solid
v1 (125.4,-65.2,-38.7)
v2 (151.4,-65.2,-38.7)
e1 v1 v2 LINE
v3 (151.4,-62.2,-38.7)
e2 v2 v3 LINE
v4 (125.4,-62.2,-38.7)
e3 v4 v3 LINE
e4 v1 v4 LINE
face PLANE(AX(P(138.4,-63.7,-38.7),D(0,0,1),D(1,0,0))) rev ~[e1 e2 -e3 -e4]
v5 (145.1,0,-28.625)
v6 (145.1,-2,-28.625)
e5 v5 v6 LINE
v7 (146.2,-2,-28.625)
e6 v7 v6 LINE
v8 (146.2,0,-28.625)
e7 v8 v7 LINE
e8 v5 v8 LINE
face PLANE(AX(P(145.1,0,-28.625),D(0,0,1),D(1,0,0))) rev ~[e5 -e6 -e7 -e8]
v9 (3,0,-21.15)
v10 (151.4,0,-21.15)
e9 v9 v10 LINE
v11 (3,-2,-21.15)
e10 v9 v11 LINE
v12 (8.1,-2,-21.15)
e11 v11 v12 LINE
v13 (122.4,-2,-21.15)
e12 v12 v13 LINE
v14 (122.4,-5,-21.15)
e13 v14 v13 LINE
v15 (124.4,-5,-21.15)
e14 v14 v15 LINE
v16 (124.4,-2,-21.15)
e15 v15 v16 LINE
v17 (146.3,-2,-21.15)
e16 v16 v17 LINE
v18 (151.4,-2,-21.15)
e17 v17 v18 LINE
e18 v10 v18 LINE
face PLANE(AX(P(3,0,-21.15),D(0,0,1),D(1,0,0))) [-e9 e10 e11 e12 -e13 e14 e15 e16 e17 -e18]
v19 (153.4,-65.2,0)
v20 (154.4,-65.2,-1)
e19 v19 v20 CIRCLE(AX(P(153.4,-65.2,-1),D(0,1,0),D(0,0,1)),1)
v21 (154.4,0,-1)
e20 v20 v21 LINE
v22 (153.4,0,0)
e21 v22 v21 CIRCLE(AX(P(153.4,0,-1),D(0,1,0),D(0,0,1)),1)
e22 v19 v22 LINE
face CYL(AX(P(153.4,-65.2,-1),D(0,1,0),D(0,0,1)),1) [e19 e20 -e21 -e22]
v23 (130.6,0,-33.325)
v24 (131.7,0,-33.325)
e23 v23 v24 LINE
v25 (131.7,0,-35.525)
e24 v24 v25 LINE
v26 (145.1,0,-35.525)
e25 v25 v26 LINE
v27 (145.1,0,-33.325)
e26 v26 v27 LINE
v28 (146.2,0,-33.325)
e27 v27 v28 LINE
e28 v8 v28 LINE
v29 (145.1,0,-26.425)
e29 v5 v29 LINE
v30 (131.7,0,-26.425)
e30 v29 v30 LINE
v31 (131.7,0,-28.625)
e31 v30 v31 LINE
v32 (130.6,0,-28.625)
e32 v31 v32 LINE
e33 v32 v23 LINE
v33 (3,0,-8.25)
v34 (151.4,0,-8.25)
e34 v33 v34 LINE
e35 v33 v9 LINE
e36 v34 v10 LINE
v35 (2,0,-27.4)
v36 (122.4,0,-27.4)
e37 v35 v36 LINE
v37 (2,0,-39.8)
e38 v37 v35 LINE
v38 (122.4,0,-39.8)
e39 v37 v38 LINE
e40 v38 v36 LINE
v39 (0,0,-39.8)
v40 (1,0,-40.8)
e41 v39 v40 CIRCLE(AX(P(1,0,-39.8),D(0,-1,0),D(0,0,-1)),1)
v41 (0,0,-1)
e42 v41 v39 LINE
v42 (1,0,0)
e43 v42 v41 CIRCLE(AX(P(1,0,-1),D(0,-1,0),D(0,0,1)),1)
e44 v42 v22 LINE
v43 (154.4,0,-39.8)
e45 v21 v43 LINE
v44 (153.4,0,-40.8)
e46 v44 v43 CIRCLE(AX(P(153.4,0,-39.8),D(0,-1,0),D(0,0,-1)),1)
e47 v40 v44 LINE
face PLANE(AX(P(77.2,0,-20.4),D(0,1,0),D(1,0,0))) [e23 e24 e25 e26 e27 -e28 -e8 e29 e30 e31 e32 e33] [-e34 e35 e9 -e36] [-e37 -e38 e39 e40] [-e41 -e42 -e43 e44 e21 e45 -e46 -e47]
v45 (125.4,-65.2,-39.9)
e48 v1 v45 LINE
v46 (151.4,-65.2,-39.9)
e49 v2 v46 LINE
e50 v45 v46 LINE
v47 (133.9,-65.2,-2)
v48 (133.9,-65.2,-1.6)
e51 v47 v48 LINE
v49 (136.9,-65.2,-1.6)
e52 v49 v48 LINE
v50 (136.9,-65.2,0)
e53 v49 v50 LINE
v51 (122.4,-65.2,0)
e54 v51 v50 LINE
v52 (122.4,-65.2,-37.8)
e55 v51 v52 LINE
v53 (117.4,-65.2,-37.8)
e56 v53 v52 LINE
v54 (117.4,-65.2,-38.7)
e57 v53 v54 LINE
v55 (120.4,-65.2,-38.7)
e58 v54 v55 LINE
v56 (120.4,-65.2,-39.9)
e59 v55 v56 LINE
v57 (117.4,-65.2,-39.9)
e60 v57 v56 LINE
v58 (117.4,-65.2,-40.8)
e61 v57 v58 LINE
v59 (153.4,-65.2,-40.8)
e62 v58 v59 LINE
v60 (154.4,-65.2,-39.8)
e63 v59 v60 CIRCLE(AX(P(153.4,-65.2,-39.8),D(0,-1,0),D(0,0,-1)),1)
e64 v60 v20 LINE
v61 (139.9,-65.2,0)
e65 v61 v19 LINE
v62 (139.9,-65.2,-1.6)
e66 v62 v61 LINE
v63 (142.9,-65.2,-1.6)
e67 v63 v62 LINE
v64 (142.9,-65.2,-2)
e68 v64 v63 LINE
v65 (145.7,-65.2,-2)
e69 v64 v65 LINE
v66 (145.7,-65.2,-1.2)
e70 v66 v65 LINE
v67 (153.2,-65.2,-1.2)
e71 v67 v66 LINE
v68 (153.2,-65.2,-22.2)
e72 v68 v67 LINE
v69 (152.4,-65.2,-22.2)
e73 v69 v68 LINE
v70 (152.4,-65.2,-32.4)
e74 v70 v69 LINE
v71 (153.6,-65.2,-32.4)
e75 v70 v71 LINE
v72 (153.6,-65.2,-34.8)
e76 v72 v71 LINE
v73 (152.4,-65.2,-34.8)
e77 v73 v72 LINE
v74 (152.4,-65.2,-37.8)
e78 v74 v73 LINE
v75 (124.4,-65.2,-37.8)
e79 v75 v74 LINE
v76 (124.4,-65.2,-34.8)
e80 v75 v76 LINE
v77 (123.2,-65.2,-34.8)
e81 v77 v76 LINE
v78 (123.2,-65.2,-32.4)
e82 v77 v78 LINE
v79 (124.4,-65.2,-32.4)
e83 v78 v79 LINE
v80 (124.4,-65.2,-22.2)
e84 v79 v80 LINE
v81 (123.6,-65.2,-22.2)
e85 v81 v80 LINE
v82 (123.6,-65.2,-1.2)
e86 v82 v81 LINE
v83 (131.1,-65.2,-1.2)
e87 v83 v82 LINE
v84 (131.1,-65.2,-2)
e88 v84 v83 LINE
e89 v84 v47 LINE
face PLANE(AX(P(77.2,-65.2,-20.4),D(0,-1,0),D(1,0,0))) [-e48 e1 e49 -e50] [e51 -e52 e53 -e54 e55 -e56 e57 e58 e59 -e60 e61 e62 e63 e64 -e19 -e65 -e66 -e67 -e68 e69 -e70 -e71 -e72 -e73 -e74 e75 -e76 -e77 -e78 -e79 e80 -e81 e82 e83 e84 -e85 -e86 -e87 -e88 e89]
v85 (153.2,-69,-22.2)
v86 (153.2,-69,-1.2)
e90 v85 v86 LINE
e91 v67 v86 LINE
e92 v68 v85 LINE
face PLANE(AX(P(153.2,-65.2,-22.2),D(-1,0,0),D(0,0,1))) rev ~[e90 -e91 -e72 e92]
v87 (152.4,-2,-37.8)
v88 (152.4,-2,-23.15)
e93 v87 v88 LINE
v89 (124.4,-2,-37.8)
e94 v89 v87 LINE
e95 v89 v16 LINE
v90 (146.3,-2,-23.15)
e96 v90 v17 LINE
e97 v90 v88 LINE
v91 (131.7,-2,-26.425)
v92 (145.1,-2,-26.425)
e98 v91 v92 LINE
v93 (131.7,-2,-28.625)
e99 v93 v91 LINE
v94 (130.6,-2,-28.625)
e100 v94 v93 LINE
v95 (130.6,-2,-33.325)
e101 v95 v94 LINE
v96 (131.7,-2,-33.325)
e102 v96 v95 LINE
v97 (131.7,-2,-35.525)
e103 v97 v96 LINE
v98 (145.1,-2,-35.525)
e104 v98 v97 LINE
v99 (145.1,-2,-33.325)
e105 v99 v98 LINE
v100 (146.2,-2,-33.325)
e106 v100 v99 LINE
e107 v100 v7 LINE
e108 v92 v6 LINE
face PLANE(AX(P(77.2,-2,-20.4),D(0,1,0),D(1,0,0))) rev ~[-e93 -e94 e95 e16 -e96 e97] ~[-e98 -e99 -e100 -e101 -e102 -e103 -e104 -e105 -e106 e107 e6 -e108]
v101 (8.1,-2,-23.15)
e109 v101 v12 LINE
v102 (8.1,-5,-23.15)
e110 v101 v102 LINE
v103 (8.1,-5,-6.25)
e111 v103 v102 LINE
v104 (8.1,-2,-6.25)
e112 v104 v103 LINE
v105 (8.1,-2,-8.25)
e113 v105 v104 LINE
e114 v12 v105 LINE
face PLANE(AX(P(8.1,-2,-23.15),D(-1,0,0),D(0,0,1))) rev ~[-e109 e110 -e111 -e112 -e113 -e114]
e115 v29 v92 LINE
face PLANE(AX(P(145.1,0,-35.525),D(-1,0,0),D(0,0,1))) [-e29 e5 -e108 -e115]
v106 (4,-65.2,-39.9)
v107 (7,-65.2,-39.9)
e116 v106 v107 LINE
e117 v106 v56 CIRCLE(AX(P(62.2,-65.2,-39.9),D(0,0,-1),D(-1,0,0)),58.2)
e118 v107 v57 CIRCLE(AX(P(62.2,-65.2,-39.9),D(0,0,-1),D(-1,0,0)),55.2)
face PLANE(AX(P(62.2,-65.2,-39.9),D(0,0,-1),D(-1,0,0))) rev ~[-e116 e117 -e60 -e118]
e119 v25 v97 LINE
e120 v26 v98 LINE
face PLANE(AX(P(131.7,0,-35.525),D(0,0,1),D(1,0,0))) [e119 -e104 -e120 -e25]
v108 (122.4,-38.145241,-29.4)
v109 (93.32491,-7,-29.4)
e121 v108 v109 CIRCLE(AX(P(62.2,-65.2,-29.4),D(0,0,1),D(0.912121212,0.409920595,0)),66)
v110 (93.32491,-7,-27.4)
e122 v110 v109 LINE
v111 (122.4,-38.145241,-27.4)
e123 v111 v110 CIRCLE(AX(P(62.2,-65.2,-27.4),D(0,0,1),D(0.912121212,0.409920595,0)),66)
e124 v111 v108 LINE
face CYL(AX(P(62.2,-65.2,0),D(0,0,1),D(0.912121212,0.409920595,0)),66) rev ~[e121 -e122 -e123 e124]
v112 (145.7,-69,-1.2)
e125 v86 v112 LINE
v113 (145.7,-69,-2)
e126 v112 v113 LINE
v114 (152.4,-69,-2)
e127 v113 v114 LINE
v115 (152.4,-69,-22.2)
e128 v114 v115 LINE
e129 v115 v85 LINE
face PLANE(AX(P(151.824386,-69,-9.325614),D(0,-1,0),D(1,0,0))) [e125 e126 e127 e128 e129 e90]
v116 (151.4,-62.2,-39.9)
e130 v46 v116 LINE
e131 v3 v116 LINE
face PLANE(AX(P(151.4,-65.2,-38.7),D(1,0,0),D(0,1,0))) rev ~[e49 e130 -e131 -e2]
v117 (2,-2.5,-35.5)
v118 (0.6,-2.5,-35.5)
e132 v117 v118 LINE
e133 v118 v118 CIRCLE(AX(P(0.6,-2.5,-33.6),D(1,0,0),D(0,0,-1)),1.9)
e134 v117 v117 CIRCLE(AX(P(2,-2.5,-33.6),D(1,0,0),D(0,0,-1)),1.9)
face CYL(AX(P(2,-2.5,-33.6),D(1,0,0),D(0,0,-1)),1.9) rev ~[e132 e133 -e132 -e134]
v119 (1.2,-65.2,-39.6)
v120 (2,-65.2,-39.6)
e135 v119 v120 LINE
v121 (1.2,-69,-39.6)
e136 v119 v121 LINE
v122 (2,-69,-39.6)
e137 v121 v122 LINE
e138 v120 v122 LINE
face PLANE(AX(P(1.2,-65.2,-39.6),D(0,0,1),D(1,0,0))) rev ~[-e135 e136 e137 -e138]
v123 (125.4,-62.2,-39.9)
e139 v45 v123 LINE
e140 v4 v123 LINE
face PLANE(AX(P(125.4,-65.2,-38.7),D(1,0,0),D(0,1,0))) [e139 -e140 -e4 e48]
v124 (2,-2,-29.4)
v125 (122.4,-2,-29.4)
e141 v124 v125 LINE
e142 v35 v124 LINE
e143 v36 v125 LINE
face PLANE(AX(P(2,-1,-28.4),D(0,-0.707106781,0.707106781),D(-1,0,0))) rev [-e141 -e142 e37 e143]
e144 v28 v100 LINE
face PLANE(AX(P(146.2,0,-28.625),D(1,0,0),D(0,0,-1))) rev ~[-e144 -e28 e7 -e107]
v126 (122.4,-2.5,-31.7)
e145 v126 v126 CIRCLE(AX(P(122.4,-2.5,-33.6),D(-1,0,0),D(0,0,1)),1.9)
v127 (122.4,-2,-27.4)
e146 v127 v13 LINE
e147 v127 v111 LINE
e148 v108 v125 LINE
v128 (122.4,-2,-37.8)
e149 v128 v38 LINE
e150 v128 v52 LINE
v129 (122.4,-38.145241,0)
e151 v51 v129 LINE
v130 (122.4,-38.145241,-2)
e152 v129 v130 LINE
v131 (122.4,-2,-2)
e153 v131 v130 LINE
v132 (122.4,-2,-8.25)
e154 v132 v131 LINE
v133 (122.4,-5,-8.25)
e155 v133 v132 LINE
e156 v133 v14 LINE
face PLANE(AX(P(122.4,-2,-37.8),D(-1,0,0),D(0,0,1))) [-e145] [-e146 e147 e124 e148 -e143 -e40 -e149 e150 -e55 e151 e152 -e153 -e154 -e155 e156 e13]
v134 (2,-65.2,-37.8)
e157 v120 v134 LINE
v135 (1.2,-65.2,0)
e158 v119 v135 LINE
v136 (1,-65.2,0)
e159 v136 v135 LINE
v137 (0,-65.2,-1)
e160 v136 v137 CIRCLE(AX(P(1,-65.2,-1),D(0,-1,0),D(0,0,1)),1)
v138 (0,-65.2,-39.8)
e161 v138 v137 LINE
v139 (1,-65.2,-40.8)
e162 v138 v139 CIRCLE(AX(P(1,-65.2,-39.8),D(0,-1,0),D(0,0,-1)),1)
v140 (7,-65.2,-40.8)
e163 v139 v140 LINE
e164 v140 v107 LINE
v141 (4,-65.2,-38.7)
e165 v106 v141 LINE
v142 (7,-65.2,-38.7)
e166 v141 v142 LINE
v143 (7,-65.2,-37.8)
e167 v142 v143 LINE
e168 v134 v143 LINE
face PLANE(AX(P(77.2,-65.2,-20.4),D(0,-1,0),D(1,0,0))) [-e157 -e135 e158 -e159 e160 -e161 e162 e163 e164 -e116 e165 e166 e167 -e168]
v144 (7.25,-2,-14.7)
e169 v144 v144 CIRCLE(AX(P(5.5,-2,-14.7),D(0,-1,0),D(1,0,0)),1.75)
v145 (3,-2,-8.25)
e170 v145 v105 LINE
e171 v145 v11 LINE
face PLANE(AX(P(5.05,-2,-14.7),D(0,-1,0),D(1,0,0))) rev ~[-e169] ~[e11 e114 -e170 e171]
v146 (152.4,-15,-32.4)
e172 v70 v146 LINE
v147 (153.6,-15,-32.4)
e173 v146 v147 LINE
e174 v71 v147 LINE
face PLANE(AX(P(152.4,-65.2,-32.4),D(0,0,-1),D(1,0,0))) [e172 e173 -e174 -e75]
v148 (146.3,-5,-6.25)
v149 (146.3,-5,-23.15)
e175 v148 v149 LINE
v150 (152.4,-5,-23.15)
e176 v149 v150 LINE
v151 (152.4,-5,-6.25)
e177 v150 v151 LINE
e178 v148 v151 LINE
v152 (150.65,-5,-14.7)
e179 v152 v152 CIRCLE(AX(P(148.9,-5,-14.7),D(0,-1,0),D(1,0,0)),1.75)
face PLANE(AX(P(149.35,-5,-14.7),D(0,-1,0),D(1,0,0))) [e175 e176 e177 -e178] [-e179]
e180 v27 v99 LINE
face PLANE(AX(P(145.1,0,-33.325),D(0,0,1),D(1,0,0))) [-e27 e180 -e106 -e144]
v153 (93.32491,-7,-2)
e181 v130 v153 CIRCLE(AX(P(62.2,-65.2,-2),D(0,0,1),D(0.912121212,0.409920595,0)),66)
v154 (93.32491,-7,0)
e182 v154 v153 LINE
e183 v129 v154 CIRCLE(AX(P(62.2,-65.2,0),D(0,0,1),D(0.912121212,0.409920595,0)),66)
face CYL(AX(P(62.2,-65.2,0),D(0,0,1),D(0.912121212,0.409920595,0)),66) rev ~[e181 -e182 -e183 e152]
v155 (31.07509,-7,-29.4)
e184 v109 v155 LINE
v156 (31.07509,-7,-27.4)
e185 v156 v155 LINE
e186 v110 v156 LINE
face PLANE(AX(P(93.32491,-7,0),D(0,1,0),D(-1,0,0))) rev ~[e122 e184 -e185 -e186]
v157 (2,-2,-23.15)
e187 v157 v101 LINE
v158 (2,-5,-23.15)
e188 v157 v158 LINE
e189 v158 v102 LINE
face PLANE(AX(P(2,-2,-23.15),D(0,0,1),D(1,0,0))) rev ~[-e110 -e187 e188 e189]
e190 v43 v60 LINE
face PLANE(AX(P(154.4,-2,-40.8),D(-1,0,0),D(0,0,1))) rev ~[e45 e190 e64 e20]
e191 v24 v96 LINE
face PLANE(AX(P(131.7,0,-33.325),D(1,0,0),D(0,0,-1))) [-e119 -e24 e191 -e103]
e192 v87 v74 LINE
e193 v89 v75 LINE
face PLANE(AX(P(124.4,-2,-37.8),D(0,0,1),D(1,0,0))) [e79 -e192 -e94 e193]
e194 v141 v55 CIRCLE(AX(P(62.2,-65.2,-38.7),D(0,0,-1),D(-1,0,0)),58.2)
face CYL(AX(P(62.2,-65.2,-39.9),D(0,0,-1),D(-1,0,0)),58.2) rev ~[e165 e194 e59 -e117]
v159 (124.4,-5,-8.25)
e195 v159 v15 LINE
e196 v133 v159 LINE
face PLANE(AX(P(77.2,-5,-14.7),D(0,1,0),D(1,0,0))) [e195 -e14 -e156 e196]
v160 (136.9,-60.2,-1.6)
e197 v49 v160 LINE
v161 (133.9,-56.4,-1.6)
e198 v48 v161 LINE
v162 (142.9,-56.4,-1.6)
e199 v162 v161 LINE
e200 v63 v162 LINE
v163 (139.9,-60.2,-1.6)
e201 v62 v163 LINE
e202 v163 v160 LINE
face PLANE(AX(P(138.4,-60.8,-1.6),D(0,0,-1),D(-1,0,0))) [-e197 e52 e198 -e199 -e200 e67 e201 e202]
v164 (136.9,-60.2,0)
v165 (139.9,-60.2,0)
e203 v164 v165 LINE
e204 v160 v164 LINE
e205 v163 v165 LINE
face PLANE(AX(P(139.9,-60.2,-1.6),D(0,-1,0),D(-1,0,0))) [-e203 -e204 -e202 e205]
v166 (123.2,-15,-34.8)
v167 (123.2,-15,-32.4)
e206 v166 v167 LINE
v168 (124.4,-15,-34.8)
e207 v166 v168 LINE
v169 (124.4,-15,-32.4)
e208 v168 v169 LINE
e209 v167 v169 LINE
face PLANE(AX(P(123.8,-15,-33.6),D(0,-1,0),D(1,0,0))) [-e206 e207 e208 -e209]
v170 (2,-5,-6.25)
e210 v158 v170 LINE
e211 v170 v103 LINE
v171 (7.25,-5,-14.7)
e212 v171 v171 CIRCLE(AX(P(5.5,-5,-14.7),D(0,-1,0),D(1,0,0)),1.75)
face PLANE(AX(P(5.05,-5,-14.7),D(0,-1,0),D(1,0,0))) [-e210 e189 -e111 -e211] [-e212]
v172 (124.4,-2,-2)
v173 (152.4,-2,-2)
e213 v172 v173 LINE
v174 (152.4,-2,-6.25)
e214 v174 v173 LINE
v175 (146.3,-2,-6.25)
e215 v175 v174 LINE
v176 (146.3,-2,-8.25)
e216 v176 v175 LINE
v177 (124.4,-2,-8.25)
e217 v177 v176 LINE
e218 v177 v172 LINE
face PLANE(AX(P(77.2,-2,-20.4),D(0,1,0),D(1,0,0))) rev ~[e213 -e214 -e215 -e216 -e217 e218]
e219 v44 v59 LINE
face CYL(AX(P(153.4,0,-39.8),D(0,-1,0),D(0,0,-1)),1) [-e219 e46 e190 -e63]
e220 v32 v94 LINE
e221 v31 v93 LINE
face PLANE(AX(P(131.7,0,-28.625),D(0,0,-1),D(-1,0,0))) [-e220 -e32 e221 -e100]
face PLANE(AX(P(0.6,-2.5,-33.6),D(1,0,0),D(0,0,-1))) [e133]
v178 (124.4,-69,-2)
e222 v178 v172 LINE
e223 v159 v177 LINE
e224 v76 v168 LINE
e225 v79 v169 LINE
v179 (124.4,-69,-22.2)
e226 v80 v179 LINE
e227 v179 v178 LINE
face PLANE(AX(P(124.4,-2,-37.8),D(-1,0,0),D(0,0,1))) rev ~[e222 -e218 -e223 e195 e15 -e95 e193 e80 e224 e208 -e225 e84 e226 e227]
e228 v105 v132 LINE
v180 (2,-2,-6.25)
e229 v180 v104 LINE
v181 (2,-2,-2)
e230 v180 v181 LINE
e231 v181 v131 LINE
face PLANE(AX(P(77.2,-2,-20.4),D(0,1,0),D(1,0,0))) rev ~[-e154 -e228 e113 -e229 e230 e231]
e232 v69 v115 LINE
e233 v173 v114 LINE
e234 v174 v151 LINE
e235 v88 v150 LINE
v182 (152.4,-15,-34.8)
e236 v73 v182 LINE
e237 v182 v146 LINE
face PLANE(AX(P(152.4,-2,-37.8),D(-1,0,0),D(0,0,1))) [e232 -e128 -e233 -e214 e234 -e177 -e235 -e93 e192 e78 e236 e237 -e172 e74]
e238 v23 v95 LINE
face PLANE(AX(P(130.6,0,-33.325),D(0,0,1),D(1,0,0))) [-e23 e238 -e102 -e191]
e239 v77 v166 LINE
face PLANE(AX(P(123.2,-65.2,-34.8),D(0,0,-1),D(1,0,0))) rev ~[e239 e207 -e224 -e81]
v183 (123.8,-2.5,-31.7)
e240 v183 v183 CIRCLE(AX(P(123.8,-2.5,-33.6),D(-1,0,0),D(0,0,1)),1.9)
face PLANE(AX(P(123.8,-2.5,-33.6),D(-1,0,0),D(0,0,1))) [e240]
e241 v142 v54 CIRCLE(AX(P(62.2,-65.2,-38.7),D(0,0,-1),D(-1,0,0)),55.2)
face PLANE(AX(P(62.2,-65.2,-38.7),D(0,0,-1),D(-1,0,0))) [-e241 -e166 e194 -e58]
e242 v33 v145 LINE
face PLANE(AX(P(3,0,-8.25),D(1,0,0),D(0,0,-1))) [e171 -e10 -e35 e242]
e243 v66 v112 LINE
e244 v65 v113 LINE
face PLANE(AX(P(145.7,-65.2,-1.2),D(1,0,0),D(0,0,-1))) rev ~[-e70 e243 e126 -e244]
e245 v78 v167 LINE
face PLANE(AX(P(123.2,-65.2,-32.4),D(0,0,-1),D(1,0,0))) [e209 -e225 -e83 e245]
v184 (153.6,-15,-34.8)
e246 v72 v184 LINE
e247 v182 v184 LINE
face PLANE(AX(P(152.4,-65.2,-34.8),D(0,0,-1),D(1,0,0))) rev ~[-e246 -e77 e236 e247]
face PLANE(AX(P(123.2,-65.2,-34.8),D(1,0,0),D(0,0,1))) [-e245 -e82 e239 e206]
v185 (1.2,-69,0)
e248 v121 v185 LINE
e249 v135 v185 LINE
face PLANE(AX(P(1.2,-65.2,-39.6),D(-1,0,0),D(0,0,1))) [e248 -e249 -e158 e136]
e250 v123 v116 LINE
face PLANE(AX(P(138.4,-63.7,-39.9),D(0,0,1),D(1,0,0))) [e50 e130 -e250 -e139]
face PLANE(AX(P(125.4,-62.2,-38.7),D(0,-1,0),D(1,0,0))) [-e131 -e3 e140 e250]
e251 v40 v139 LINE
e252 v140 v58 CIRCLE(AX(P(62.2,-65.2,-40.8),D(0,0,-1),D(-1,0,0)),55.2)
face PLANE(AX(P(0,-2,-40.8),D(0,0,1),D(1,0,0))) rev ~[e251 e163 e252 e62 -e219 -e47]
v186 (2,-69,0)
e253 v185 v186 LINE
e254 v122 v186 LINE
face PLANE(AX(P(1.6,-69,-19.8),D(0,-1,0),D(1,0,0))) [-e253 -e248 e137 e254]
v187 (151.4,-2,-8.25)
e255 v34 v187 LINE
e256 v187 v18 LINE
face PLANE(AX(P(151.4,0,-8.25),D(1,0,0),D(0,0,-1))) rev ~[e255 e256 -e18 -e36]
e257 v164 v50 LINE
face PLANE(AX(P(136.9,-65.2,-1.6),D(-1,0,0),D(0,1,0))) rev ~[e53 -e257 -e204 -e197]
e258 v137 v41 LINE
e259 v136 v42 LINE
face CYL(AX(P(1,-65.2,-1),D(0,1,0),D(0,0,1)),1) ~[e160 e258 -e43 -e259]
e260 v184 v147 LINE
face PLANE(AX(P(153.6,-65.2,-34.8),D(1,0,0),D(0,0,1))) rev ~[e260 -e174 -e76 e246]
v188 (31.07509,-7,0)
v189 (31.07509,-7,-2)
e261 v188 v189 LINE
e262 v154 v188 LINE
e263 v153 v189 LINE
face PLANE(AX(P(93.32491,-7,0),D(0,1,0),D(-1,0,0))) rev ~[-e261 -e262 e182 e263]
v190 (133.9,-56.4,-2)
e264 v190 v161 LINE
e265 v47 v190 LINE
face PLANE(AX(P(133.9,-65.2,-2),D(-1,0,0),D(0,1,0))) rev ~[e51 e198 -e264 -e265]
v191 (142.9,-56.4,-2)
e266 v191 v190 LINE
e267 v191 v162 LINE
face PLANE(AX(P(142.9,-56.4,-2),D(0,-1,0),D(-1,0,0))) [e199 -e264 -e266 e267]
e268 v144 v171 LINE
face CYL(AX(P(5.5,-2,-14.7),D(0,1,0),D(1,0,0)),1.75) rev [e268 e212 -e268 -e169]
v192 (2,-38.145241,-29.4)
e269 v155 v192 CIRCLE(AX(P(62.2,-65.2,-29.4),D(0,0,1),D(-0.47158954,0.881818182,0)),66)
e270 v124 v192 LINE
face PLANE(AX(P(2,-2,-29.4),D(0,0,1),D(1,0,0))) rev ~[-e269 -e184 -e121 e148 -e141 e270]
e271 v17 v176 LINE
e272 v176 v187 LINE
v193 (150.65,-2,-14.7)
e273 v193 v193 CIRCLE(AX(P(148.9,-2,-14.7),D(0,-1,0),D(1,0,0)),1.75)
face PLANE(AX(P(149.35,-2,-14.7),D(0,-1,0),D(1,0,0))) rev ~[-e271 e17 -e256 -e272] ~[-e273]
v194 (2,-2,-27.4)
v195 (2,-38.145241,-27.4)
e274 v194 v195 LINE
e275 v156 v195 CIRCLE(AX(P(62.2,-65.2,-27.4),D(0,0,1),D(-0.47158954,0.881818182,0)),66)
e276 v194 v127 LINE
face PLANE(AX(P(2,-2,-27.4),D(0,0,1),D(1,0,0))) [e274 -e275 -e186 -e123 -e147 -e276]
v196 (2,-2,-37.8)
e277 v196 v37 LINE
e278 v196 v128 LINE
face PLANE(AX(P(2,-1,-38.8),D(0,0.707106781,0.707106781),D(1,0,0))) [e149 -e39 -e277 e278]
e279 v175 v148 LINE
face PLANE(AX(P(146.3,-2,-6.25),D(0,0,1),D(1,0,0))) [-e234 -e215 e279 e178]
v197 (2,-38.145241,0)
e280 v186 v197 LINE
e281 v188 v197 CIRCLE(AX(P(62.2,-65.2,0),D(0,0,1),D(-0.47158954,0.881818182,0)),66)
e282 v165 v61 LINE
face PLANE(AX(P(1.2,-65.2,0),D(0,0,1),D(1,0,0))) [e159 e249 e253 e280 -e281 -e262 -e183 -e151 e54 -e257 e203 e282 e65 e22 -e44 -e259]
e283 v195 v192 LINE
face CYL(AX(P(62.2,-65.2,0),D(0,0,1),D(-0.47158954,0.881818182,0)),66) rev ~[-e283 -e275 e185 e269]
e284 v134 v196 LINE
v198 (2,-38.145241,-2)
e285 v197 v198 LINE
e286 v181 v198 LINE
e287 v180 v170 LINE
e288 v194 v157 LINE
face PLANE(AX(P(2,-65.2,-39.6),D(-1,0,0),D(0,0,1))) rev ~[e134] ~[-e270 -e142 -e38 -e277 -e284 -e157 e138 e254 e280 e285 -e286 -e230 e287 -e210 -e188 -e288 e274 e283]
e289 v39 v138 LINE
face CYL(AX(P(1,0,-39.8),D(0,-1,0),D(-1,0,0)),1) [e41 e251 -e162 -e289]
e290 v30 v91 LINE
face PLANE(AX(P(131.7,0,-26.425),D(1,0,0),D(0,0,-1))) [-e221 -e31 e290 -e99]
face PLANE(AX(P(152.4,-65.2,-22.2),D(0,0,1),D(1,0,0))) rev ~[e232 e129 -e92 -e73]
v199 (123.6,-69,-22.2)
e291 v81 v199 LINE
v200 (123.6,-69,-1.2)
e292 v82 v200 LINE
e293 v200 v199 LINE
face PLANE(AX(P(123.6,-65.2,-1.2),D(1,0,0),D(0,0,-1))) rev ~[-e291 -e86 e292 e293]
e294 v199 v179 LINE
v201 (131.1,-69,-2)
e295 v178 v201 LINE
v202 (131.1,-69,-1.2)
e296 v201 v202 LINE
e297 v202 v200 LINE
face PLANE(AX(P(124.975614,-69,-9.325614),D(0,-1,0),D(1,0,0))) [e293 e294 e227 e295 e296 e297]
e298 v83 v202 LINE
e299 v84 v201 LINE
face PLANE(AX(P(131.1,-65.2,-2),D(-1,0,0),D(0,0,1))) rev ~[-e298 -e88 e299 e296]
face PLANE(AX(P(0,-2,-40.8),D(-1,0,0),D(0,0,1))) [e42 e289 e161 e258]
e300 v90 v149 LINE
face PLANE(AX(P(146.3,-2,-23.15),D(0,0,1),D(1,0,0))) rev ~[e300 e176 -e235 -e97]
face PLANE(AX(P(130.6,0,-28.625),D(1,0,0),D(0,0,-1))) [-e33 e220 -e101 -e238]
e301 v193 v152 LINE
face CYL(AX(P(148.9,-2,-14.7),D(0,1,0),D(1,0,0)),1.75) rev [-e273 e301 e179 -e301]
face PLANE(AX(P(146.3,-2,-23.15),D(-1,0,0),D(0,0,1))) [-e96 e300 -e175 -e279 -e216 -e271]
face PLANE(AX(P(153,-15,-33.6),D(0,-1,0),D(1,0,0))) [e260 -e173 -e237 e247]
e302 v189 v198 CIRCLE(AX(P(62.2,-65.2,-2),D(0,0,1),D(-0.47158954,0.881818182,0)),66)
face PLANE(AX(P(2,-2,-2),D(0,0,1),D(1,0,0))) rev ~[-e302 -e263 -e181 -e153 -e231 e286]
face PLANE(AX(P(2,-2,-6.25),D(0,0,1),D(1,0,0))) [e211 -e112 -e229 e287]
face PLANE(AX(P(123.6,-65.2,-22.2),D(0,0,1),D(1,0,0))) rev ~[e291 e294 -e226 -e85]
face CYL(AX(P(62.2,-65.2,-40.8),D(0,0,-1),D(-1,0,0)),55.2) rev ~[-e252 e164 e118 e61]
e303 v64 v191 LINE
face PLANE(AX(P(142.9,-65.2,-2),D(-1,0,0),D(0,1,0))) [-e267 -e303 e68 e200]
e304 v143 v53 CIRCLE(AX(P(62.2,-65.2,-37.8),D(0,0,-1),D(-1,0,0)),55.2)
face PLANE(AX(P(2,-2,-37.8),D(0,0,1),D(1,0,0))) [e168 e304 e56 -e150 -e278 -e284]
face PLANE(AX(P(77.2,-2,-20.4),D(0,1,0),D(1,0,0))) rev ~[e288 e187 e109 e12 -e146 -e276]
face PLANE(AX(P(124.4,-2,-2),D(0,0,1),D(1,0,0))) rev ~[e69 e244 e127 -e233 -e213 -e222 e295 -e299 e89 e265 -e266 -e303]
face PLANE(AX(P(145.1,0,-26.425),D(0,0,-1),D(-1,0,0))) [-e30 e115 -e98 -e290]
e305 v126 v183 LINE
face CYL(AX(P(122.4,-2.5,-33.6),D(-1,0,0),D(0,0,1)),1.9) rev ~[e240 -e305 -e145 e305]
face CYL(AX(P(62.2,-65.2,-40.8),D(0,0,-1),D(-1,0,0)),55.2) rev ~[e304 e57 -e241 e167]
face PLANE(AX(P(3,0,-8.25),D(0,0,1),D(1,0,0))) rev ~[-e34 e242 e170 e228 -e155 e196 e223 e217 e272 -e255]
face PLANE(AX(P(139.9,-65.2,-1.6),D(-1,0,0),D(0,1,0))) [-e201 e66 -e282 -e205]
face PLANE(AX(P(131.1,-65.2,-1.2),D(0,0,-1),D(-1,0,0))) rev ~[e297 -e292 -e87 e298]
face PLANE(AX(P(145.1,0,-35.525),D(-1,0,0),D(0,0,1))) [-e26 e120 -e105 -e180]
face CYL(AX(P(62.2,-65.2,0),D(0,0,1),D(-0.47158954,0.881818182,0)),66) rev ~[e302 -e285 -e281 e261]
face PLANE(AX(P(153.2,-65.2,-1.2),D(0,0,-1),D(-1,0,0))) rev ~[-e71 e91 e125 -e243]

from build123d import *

# Parameters (mm, degrees)
ESQUISSE1_W              = 154.4
ESQUISSE1_H              = 40.8
BOSS_EXTRU_1_DEPTH       = 2
ESQUISSE2_W              = 154.4
ESQUISSE2_H              = 40.8
ESQUISSE2_W_2            = 120.4
ESQUISSE2_H_2            = 25.4
ESQUISSE2_H_3            = 8.4
ESQUISSE2_W_3            = 28
ESQUISSE2_H_4            = 35.8
BOSS_EXTRU_2_DEPTH       = 63.2
ENL_V_MAT_EXTRU_1_DEPTH  = 29.4
ESQUISSE8_W              = 9
ESQUISSE8_H              = 8.8
ENL_V_MAT_EXTRU_3_DEPTH  = 0.4
ESQUISSE9_W              = 3
ESQUISSE9_H              = 5
ENL_V_MAT_EXTRU_4_DEPTH  = 2.6
ESQUISSE10_W             = 1.2
ESQUISSE10_H             = 2.4
ENL_V_MAT_EXTRU_5_DEPTH  = 50.2
ESQUISSE12_W             = 0.8
ESQUISSE12_H             = 39.6
BOSS_EXTRU_3_DEPTH       = 3.8
ENL_V_MAT_EXTRU_6_REACH  = 71
ESQUISSE14_W             = 120.4
ESQUISSE14_H             = 8.4
ESQUISSE16_W             = 148.4
ESQUISSE16_H             = 12.9
ENL_V_MAT_EXTRU_8_DEPTH  = 2
ESQUISSE17_W             = 6.1
ESQUISSE17_H             = 16.9
ESQUISSE17_R             = 1.75
BOSS_EXTRU_5_DEPTH       = 3
ESQUISSE19_W             = 138.2
ESQUISSE19_H             = 12.9
ENL_V_MAT_EXTRU_10_DEPTH = 3
ESQUISSE20_R             = 1.9
ENL_V_MAT_EXTRU_11_DEPTH = 1.4
ESQUISSE21_R             = 1.9
ENL_V_MAT_EXTRU_12_DEPTH = 1.4
ENL_V_MAT_EXTRU_13_REACH = 42.8
ESQUISSE22_R             = 55.2
ENL_V_START              = -0.9
ESQUISSE23_R             = 58.2
ENL_V_MAT_EXTRU_14_DEPTH = 1.2
ENL_V_MAT_EXTRU_16_REACH = 71
ESQUISSE24_W             = 1.1
ESQUISSE24_H             = 4.7
ESQUISSE27_W             = 26
ESQUISSE27_H             = 3
ENL_V_MAT_EXTRU_17_DEPTH = 1.2
CONG_1_R                 = 1
CHANFREIN1_SIZE          = 2


with BuildPart() as part:
    # Esquisse1 → Boss.-Extru.1 (new body)
    with BuildSketch(Plane(origin=(0, 0, 0), x_dir=(1, 0, 0), z_dir=(0, 1, 0))):
        with Locations((77.2, 20.4)):
            Rectangle(ESQUISSE1_W, ESQUISSE1_H)
    extrude(amount=-BOSS_EXTRU_1_DEPTH)

    # Esquisse2 → Boss.-Extru.2 (add)
    with BuildSketch(Plane.XZ.offset(2)):
        with Locations((77.2, -20.4)):
            Rectangle(ESQUISSE2_W, ESQUISSE2_H)
        with Locations((62.2, -14.7)):
            Rectangle(ESQUISSE2_W_2, ESQUISSE2_H_2, mode=Mode.SUBTRACT)
        with Locations((62.2, -33.6)):
            Rectangle(ESQUISSE2_W_2, ESQUISSE2_H_3, mode=Mode.SUBTRACT)
        with Locations((138.4, -19.9)):
            Rectangle(ESQUISSE2_W_3, ESQUISSE2_H_4, mode=Mode.SUBTRACT)
    extrude(amount=BOSS_EXTRU_2_DEPTH)

    # Esquisse3 → Enlèv. mat.-Extru.1 (cut)
    with BuildSketch(Plane.XY):
        with BuildLine():
            Line((93.324909638, -7), (31.075090362, -7))
            ThreePointArc((31.075090362, -7), (13.955142399, -20.16186377), (2, -38.145240714))
            Line((2, -38.145240714), (2, -65.2))
            Line((2, -65.2), (122.4, -65.2))
            Line((122.4, -65.2), (122.4, -38.145240714))
            ThreePointArc((122.4, -38.145240714), (110.444857601, -20.16186377), (93.324909638, -7))
        make_face()
    extrude(amount=-ENL_V_MAT_EXTRU_1_DEPTH, mode=Mode.SUBTRACT)

    # Esquisse8 → Enlèv. mat.-Extru.3 (cut)
    with BuildSketch(Plane(origin=(0, 0, -2), x_dir=(-1, 0, 0), z_dir=(0, 0, -1))):
        with Locations((-138.4, -60.8)):
            Rectangle(ESQUISSE8_W, ESQUISSE8_H)
    extrude(amount=-ENL_V_MAT_EXTRU_3_DEPTH, mode=Mode.SUBTRACT)

    # Esquisse9 → Enlèv. mat.-Extru.4 (cut, through all)
    with BuildSketch(Plane(origin=(0, 0, -1.6), x_dir=(-1, 0, 0), z_dir=(0, 0, -1))):
        with Locations((-138.4, -62.7)):
            Rectangle(ESQUISSE9_W, ESQUISSE9_H)
    extrude(amount=-ENL_V_MAT_EXTRU_4_DEPTH, mode=Mode.SUBTRACT)

    # Esquisse10 → Enlèv. mat.-Extru.5 (cut)
    with BuildSketch(Plane.XZ.offset(65.2)):
        with Locations((153, -33.6)):
            Rectangle(ESQUISSE10_W, ESQUISSE10_H)
        with Locations((123.8, -33.6)):
            Rectangle(ESQUISSE10_W, ESQUISSE10_H)
    extrude(amount=-ENL_V_MAT_EXTRU_5_DEPTH, mode=Mode.SUBTRACT)

    # Esquisse12 → Boss.-Extru.3 (add)
    with BuildSketch(Plane.XZ.offset(65.2)):
        with Locations((1.6, -19.8)):
            Rectangle(ESQUISSE12_W, ESQUISSE12_H)
        Polygon((152.4, -2), (152.4, -22.2), (153.2, -22.2), (153.2, -1.2), (145.7, -1.2), (145.7, -2), align=None)
        Polygon((131.1, -2), (131.1, -1.2), (123.6, -1.2), (123.6, -22.2), (124.4, -22.2), (124.4, -2), align=None)
    extrude(amount=BOSS_EXTRU_3_DEPTH)

    # Esquisse14 → Enlèv. mat.-Extru.6 (cut, up to next)
    with BuildSketch(Plane(origin=(0, 0, 0), x_dir=(1, 0, 0), z_dir=(0, 1, 0)), mode=Mode.PRIVATE) as enl_v_mat_extru_6_sk1:
        with Locations((62.2, 33.6)):
            Rectangle(ESQUISSE14_W, ESQUISSE14_H)
    enl_v_mat_extru_6_tool1 = extrude(enl_v_mat_extru_6_sk1.sketch, amount=-ENL_V_MAT_EXTRU_6_REACH, mode=Mode.PRIVATE) & part.part
    add(enl_v_mat_extru_6_tool1.solids().sort_by_distance((62.2, 0, -33.6))[0], mode=Mode.SUBTRACT)

    # Esquisse16 → Enlèv. mat.-Extru.8 (cut)
    with BuildSketch(Plane(origin=(0, 0, 0), x_dir=(1, 0, 0), z_dir=(0, 1, 0))):
        with Locations((77.2, 14.7)):
            Rectangle(ESQUISSE16_W, ESQUISSE16_H)
    extrude(amount=-ENL_V_MAT_EXTRU_8_DEPTH, mode=Mode.SUBTRACT)

    # Esquisse17 → Boss.-Extru.5 (add)
    with BuildSketch(Plane.XZ.offset(2)):
        with Locations((5.05, -14.7)):
            Rectangle(ESQUISSE17_W, ESQUISSE17_H)
        with Locations((5.5, -14.7)):
            Circle(ESQUISSE17_R, mode=Mode.SUBTRACT)
        with Locations((149.35, -14.7)):
            Rectangle(ESQUISSE17_W, ESQUISSE17_H)
        with Locations((148.9, -14.7)):
            Circle(ESQUISSE17_R, mode=Mode.SUBTRACT)
    extrude(amount=BOSS_EXTRU_5_DEPTH)

    # Esquisse19 → Enlèv. mat.-Extru.10 (cut)
    with BuildSketch(Plane(origin=(0, -2, 0), x_dir=(1, 0, 0), z_dir=(0, 1, 0))):
        with Locations((77.2, 14.7)):
            Rectangle(ESQUISSE19_W, ESQUISSE19_H)
    extrude(amount=-ENL_V_MAT_EXTRU_10_DEPTH, mode=Mode.SUBTRACT)

    # Esquisse20 → Enlèv. mat.-Extru.11 (cut)
    with BuildSketch(Plane.ZY.offset(-122.4)):
        with Locations((-33.6, -2.5)):
            Circle(ESQUISSE20_R)
    extrude(amount=-ENL_V_MAT_EXTRU_11_DEPTH, mode=Mode.SUBTRACT)

    # Esquisse21 → Enlèv. mat.-Extru.12 (cut)
    with BuildSketch(Plane(origin=(2, 0, 0), x_dir=(0, 0, -1), z_dir=(1, 0, 0))):
        with Locations((33.6, -2.5)):
            Circle(ESQUISSE21_R)
    extrude(amount=-ENL_V_MAT_EXTRU_12_DEPTH, mode=Mode.SUBTRACT)

    # Esquisse22 → Enlèv. mat.-Extru.13 (cut, up to next)
    with BuildSketch(Plane(origin=(0, 0, -40.8), x_dir=(-1, 0, 0), z_dir=(0, 0, -1)), mode=Mode.PRIVATE) as enl_v_mat_extru_13_sk1:
        with Locations((-62.2, -65.2)):
            Circle(ESQUISSE22_R)
    enl_v_mat_extru_13_tool1 = extrude(enl_v_mat_extru_13_sk1.sketch, amount=-ENL_V_MAT_EXTRU_13_REACH, mode=Mode.PRIVATE) & part.part
    add(enl_v_mat_extru_13_tool1.solids().sort_by_distance((62.2, -65.2, -40.8))[0], mode=Mode.SUBTRACT)

    # Esquisse23 → Enlèv. mat.-Extru.14 (cut)
    with BuildSketch(Plane(origin=(0, 0, -40.8), x_dir=(-1, 0, 0), z_dir=(0, 0, -1)).offset(ENL_V_START)):
        with Locations((-62.2, -65.2)):
            Circle(ESQUISSE23_R)
    extrude(amount=-ENL_V_MAT_EXTRU_14_DEPTH, mode=Mode.SUBTRACT)

    # Esquisse24 → Enlèv. mat.-Extru.16 (cut, up to next)
    with BuildSketch(Plane(origin=(0, 0, 0), x_dir=(1, 0, 0), z_dir=(0, 1, 0)), mode=Mode.PRIVATE) as enl_v_mat_extru_16_sk1:
        Polygon((131.7, 35.525), (145.1, 35.525), (145.1, 26.425), (131.7, 26.425), (131.7, 28.625), (130.6, 28.625), (130.6, 33.325), (131.7, 33.325), align=None)
    enl_v_mat_extru_16_tool1 = extrude(enl_v_mat_extru_16_sk1.sketch, amount=-ENL_V_MAT_EXTRU_16_REACH, mode=Mode.PRIVATE) & part.part
    add(enl_v_mat_extru_16_tool1.solids().sort_by_distance((138.105118, 0, -30.975))[0], mode=Mode.SUBTRACT)
    # Esquisse24 → Enlèv. mat.-Extru.16 (cut, up to next)
    with BuildSketch(Plane(origin=(0, 0, 0), x_dir=(1, 0, 0), z_dir=(0, 1, 0)), mode=Mode.PRIVATE) as enl_v_mat_extru_16_sk2:
        with Locations((145.65, 30.975)):
            Rectangle(ESQUISSE24_W, ESQUISSE24_H)
    enl_v_mat_extru_16_tool2 = extrude(enl_v_mat_extru_16_sk2.sketch, amount=-ENL_V_MAT_EXTRU_16_REACH, mode=Mode.PRIVATE) & part.part
    add(enl_v_mat_extru_16_tool2.solids().sort_by_distance((145.65, 0, -30.975))[0], mode=Mode.SUBTRACT)

    # Esquisse27 → Enlèv. mat.-Extru.17 (cut)
    with BuildSketch(Plane.XY.offset(-37.8).offset(ENL_V_START)):
        with Locations((138.4, -63.7)):
            Rectangle(ESQUISSE27_W, ESQUISSE27_H)
    extrude(amount=-ENL_V_MAT_EXTRU_17_DEPTH, mode=Mode.SUBTRACT)

    # Congé1
    cong_1_edges = [part.edges().sort_by_distance(p)[0] for p in [
        (0, -32.6, -40.8),
        (154.4, -32.6, -40.8),
        (154.4, -32.6, 0),
        (0, -32.6, 0),
    ]]
    fillet(cong_1_edges, radius=CONG_1_R)

    # Chanfrein1
    chanfrein1_edges = [part.edges().sort_by_distance(p)[0] for p in [
        (62.2, 0, -29.4),
        (62.2, 0, -37.8),
    ]]
    chamfer(chanfrein1_edges, length=CHANFREIN1_SIZE)


solid = part.part
